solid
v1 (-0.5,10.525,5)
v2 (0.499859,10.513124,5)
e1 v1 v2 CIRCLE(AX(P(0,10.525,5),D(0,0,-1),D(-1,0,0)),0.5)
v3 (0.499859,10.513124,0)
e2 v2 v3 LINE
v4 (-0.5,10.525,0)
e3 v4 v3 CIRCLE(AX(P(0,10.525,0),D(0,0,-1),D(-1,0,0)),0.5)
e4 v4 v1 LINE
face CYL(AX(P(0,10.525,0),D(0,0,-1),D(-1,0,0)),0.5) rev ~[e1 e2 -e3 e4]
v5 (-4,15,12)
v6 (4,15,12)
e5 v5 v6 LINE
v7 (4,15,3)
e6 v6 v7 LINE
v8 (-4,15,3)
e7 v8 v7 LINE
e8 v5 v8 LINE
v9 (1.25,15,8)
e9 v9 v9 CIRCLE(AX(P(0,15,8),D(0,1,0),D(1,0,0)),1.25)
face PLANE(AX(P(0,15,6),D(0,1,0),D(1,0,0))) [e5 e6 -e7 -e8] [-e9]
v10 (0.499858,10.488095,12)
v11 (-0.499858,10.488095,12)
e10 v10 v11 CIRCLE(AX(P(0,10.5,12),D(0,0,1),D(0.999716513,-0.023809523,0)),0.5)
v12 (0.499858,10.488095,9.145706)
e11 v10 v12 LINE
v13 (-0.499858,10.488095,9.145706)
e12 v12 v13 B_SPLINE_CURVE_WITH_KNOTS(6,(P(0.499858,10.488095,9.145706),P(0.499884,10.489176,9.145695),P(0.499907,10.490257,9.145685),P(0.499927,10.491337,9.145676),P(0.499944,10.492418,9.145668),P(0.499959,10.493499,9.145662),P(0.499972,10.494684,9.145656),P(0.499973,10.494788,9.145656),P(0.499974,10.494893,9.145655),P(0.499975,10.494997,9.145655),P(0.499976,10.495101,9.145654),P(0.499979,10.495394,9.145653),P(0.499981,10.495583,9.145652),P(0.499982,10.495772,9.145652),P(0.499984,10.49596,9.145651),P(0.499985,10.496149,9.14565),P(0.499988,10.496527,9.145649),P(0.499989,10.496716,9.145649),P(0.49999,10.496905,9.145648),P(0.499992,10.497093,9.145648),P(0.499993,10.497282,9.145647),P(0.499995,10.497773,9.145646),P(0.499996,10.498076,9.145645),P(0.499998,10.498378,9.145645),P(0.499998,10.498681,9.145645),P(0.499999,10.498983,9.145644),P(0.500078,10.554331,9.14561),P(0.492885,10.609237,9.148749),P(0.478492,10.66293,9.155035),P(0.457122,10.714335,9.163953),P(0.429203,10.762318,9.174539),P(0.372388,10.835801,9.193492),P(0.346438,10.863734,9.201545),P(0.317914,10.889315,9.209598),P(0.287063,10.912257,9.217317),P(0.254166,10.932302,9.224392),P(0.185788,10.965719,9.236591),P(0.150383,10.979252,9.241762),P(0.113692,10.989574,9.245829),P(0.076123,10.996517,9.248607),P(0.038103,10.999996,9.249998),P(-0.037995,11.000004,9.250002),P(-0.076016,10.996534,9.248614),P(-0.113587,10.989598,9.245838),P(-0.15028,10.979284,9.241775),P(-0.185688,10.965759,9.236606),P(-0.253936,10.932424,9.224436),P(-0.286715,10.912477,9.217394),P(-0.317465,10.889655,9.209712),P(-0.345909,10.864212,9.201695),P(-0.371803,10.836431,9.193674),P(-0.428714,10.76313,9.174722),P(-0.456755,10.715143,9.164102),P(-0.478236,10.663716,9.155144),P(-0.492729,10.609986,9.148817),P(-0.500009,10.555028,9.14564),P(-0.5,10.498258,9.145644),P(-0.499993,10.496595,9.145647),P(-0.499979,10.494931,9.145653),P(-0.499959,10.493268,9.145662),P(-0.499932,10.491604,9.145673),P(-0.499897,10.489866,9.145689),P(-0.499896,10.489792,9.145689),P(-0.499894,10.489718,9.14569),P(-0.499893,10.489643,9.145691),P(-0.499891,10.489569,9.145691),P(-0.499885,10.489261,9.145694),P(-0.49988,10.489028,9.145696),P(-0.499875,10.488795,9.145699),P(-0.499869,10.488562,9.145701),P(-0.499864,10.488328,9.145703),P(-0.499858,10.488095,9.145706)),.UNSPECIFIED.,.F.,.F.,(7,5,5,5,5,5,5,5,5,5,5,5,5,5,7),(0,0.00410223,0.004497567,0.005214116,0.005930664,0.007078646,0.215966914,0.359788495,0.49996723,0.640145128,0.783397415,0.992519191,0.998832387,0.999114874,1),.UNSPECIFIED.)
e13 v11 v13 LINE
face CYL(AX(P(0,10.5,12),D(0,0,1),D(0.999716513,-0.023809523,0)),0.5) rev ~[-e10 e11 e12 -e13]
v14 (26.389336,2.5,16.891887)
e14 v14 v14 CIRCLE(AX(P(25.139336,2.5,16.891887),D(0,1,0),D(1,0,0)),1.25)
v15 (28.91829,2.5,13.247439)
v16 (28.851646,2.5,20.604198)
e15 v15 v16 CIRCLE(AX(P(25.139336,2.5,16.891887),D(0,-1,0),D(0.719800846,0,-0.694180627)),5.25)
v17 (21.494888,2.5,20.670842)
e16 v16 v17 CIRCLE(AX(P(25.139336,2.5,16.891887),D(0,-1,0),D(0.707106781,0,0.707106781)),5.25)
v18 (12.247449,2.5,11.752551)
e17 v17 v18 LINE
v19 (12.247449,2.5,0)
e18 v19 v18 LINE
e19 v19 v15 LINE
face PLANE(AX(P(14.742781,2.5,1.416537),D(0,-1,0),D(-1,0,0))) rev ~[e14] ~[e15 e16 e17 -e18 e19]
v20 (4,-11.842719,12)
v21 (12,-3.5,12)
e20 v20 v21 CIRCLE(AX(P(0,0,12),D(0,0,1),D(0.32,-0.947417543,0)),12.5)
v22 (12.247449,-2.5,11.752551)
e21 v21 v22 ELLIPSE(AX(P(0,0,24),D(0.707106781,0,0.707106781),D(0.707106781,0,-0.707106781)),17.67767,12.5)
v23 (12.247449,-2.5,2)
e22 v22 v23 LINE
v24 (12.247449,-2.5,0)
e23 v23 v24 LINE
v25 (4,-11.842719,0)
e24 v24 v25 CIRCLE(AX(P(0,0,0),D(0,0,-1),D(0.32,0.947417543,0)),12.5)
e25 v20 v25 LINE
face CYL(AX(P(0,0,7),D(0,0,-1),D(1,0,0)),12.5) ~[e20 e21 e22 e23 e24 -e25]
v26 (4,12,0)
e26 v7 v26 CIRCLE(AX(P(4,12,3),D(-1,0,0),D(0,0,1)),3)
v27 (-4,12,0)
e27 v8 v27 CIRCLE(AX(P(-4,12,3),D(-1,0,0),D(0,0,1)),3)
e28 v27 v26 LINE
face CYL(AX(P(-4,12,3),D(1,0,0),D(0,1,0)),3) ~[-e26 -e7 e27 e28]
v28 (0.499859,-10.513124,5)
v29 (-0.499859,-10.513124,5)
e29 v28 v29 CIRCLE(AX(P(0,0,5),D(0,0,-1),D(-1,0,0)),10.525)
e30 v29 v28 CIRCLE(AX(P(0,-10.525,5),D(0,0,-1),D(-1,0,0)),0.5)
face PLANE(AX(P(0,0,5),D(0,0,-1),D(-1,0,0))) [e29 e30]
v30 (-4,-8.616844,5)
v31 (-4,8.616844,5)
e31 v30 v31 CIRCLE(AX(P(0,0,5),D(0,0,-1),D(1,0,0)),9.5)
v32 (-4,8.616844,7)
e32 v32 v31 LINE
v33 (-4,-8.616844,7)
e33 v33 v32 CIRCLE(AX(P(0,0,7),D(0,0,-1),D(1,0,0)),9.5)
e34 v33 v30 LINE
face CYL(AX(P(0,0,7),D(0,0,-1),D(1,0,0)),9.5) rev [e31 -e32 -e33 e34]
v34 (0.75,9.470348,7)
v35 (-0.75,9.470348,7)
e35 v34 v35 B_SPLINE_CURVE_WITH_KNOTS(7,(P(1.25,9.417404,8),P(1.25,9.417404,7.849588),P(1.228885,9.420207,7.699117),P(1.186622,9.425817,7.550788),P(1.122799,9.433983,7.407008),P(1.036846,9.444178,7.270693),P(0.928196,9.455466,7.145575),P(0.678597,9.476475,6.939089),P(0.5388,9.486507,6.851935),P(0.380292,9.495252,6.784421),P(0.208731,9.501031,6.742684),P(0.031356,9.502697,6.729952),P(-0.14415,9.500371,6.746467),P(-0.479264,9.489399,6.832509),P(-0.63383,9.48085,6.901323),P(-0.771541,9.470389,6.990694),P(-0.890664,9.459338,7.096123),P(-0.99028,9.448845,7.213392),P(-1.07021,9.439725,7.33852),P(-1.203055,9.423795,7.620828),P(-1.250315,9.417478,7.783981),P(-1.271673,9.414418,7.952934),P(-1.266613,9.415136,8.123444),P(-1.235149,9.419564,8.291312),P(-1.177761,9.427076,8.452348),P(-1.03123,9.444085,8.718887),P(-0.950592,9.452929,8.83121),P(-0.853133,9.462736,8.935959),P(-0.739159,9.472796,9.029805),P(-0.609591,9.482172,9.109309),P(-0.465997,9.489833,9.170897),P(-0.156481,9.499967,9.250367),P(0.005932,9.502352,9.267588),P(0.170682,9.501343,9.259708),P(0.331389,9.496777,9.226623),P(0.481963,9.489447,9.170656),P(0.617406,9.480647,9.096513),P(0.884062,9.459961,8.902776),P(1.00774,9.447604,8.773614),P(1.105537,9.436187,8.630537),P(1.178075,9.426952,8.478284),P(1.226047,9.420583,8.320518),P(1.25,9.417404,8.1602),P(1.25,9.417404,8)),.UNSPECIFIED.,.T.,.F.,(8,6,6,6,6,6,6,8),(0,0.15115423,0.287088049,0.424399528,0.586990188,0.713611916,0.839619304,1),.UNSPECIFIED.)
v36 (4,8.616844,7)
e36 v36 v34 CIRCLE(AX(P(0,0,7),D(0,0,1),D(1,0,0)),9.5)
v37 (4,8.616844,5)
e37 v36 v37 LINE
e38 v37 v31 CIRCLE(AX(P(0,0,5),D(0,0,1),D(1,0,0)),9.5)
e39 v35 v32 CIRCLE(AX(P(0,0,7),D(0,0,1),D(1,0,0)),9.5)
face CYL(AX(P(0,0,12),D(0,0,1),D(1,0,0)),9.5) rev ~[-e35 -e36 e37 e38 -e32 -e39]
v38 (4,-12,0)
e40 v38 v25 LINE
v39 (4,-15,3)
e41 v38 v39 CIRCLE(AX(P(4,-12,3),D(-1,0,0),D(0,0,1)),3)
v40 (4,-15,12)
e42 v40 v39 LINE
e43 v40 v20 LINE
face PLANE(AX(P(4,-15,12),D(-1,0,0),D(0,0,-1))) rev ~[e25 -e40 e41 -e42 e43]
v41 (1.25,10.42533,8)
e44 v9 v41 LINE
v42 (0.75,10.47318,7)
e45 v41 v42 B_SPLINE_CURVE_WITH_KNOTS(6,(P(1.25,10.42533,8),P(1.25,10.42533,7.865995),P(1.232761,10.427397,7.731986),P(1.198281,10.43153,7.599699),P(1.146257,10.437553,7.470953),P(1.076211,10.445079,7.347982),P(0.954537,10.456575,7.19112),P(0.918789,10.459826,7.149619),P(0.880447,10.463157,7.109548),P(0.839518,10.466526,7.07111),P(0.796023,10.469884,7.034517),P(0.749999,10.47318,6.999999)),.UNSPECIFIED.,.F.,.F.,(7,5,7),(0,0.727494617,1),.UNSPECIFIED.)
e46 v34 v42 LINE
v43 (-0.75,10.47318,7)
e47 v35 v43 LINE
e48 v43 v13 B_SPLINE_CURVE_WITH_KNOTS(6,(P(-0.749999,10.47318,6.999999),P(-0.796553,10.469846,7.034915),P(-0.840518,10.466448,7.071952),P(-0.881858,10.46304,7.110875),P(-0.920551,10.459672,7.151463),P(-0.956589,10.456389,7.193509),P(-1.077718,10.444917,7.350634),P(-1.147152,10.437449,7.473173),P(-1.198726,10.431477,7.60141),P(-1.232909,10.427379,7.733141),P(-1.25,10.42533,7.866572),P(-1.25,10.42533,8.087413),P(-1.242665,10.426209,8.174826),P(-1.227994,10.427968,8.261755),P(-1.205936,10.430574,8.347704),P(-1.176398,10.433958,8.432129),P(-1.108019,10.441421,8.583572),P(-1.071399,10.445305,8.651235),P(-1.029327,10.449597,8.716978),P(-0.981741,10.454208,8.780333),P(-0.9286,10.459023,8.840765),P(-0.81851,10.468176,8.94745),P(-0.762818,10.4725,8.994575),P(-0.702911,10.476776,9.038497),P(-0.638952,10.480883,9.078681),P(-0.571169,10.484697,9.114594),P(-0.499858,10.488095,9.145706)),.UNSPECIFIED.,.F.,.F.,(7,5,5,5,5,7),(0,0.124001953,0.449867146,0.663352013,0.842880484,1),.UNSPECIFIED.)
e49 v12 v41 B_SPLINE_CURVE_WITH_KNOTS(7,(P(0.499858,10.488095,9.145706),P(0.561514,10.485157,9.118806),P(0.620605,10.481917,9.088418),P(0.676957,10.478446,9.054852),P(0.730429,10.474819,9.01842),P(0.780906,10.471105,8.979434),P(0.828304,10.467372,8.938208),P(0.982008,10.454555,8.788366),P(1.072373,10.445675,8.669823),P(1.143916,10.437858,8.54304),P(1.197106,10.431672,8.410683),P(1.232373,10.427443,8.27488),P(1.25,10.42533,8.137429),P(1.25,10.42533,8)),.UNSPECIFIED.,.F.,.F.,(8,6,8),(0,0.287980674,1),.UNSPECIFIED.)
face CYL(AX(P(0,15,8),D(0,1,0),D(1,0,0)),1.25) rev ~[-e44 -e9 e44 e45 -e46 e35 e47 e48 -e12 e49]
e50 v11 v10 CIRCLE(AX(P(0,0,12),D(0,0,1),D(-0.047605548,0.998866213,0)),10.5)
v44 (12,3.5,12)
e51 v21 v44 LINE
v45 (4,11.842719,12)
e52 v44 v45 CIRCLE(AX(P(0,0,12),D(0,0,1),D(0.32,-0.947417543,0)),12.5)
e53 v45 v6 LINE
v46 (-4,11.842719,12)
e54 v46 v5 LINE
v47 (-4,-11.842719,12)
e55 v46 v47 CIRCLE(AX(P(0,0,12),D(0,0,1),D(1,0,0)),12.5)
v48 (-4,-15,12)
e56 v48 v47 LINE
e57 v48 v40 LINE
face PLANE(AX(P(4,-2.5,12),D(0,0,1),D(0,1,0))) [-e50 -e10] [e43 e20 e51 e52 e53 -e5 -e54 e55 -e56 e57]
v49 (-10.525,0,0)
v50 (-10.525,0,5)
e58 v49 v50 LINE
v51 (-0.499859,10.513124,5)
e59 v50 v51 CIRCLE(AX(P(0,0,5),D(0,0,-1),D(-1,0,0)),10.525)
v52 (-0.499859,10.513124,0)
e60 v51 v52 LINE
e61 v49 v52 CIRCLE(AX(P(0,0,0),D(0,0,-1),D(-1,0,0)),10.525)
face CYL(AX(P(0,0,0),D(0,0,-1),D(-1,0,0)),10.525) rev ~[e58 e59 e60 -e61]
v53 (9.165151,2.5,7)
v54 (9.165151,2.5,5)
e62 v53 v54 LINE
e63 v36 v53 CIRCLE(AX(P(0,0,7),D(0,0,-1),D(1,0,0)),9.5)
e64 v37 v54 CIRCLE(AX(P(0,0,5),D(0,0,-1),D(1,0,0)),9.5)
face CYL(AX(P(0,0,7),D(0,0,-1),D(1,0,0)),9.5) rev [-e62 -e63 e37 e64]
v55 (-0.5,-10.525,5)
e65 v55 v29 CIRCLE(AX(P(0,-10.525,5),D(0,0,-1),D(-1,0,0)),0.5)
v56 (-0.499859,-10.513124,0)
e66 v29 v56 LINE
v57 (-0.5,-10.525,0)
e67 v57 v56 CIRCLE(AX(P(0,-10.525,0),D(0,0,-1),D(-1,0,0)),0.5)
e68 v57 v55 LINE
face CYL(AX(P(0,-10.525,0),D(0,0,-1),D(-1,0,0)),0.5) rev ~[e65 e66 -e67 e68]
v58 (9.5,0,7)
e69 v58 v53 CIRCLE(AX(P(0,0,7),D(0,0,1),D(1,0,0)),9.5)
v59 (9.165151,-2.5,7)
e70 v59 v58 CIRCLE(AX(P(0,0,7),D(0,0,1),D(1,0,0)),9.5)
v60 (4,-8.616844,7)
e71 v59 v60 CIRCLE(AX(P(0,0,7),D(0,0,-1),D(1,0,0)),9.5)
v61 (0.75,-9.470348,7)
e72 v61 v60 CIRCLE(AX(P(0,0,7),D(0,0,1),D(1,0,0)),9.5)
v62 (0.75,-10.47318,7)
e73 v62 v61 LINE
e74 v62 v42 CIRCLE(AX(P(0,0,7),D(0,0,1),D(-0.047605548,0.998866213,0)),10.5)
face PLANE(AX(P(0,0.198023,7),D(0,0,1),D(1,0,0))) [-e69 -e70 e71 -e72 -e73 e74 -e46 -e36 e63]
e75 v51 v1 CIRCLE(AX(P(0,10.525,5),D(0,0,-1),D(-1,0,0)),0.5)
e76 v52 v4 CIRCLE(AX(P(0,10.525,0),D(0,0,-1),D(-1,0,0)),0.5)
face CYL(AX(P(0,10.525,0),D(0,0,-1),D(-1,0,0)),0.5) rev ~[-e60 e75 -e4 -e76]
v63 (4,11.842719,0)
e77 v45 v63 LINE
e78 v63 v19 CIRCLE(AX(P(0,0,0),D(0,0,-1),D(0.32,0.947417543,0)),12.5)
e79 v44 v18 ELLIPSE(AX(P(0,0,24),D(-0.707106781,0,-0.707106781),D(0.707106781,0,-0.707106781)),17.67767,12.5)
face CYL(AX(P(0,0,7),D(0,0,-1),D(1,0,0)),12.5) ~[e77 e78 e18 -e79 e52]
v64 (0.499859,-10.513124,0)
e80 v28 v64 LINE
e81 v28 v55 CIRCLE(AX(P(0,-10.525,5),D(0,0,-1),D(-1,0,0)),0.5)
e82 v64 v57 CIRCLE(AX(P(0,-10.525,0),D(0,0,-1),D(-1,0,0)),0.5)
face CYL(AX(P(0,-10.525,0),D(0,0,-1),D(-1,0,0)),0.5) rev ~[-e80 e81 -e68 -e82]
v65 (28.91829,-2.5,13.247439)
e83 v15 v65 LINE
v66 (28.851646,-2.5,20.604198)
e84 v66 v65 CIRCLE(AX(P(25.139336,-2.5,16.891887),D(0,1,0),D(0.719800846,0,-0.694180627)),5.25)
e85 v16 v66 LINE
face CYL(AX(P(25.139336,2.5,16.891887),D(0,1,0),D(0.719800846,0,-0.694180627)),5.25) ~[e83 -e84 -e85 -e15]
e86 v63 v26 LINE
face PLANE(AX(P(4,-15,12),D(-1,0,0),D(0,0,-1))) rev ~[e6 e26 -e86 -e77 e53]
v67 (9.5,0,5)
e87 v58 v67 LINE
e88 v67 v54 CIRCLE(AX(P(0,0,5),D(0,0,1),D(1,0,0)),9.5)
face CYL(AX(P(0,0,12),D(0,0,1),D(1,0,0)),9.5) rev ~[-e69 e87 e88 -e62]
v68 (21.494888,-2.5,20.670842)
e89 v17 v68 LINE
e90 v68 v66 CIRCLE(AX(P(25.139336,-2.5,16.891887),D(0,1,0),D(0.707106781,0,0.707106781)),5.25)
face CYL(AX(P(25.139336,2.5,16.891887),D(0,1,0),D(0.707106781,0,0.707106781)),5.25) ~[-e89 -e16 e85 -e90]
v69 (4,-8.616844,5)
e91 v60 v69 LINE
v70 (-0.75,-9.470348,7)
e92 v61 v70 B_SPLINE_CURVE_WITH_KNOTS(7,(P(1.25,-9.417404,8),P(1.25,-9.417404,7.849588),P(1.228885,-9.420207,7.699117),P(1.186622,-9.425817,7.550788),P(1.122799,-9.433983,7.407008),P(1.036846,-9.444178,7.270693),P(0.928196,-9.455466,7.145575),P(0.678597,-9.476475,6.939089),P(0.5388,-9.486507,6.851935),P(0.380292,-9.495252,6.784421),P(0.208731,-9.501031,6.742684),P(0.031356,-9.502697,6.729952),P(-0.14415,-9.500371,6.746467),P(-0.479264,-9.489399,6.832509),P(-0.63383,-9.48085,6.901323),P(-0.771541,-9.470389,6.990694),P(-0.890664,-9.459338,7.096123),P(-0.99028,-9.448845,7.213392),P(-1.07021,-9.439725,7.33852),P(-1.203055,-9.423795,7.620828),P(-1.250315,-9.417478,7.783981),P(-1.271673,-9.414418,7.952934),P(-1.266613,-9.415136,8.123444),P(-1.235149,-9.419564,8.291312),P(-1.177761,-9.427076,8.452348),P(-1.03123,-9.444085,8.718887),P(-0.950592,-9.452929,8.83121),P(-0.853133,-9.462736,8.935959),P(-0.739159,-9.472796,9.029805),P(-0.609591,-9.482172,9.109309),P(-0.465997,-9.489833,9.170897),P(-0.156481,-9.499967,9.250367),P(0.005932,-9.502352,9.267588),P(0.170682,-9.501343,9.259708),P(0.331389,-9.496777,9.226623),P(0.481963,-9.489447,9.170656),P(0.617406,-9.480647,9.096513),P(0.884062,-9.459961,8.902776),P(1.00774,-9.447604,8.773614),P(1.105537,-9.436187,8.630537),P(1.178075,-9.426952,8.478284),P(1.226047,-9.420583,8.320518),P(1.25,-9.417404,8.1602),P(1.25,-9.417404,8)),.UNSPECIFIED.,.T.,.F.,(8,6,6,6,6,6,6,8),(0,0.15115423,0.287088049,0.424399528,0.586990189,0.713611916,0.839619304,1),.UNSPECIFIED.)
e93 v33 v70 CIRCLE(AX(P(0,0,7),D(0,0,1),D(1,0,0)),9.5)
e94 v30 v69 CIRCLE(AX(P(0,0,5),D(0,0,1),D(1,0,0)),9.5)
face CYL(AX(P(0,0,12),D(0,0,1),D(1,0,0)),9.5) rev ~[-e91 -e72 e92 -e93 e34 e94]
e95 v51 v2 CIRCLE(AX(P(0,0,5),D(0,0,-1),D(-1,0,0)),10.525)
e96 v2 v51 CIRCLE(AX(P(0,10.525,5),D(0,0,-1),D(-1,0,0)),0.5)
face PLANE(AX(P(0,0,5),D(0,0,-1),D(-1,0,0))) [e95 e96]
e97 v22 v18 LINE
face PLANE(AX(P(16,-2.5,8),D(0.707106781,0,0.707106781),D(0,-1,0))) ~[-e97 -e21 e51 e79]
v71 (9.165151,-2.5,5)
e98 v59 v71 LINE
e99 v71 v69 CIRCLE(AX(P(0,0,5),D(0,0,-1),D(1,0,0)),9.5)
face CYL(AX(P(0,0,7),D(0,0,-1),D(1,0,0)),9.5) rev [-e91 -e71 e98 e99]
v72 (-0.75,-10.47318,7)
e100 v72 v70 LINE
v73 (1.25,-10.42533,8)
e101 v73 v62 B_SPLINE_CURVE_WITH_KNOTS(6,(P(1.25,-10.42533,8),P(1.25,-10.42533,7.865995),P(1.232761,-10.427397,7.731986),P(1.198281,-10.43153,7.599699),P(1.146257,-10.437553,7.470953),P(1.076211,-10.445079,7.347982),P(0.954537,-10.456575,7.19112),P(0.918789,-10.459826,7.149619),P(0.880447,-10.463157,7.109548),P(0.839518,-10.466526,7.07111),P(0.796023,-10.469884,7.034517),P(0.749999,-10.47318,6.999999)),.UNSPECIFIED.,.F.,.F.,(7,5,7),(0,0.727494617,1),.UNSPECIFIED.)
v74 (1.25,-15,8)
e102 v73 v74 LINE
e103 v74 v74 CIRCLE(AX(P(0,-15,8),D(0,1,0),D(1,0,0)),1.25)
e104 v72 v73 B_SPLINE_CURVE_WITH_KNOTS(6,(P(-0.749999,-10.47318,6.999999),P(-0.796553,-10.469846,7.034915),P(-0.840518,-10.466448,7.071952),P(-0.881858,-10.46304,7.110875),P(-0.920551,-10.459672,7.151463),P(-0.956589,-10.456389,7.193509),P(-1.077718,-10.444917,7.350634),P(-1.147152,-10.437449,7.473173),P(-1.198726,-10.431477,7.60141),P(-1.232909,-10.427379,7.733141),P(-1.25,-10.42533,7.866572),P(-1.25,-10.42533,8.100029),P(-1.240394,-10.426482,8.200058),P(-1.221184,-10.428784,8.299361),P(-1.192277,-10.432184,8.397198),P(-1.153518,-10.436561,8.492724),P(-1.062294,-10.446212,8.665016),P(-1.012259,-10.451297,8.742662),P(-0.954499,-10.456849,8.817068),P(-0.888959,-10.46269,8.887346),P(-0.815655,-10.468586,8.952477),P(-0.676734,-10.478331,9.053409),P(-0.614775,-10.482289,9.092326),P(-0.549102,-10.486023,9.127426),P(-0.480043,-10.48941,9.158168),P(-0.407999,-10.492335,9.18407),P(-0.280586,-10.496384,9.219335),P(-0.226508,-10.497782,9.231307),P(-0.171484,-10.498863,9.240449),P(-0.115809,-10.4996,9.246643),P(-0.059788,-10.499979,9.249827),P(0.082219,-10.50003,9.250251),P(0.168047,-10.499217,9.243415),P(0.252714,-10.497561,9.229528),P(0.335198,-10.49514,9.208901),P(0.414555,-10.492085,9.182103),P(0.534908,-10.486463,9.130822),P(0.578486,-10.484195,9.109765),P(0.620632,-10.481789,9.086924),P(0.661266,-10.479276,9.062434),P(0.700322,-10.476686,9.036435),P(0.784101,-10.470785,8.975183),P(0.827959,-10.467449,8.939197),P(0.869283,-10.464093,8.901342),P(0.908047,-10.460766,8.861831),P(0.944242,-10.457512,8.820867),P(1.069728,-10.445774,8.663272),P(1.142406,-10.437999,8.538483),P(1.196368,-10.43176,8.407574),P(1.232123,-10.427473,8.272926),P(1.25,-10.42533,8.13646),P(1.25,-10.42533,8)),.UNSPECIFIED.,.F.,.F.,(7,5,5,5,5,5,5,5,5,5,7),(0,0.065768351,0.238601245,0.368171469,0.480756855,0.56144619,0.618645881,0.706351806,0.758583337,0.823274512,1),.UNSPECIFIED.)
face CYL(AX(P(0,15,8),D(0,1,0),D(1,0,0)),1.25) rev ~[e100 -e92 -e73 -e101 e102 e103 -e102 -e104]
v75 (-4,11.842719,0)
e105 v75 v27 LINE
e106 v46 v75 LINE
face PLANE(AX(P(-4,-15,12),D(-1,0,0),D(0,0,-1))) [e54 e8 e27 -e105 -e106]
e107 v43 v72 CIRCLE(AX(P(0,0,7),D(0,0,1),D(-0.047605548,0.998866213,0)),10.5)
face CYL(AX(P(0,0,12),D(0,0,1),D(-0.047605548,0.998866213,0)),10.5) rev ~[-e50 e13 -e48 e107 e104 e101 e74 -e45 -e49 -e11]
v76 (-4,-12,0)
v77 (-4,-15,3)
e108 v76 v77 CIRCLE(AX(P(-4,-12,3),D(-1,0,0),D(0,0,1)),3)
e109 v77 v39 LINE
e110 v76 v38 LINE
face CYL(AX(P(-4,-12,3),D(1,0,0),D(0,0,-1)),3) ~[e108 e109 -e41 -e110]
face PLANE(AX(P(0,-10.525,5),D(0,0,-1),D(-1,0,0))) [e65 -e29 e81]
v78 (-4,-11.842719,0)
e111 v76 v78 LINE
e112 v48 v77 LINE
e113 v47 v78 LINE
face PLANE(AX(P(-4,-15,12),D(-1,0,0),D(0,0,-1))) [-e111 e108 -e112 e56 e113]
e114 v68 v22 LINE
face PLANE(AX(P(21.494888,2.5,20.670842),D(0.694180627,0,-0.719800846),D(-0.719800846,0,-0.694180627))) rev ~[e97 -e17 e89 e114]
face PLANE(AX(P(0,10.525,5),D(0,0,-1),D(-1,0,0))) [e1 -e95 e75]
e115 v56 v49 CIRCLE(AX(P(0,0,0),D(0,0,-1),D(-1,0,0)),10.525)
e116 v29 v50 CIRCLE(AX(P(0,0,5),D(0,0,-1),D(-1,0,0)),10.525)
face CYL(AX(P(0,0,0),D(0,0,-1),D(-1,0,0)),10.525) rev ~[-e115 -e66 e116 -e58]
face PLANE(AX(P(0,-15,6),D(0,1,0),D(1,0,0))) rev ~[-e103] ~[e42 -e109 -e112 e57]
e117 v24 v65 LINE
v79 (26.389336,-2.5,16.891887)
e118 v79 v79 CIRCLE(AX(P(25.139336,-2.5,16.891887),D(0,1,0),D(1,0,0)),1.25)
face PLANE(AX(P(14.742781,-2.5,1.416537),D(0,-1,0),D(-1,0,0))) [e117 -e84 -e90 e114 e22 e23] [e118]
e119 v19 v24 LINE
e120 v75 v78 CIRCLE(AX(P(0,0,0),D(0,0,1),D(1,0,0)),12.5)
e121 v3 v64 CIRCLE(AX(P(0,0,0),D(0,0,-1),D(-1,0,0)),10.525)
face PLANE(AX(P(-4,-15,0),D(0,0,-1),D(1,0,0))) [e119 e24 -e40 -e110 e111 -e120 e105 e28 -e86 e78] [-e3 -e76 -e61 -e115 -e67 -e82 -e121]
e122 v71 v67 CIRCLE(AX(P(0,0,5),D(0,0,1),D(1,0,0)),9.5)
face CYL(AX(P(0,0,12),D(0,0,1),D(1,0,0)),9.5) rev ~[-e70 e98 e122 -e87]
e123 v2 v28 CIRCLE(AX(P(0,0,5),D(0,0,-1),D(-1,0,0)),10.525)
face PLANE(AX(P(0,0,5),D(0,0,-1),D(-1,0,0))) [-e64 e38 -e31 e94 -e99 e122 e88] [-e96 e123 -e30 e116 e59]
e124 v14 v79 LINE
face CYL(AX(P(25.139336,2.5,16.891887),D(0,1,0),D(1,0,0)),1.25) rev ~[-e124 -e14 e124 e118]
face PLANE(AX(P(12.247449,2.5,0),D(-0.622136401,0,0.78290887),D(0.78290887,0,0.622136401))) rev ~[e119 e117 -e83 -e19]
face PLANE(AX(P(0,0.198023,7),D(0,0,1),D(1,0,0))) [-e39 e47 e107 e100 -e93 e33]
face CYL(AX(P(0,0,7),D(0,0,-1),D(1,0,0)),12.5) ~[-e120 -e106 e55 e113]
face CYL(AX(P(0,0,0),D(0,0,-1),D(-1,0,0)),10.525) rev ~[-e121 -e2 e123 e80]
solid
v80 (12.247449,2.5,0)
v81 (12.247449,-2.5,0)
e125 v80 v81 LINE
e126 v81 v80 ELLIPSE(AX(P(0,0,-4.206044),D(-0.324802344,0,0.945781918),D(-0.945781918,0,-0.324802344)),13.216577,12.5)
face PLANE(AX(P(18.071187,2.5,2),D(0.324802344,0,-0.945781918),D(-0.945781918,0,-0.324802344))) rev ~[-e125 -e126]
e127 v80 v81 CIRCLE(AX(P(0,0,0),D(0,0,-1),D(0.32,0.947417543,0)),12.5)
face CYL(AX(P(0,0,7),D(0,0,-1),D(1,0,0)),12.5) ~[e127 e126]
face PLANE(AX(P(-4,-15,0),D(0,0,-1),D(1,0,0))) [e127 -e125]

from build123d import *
from build123d.topology import SkipClean

# Parameters (mm, degrees)
SKETCH1_R                = 12.5
SKETCH1_R_2              = 9.5
BOSS_EXTRUDE1_DEPTH      = 7
SKETCH2_R                = 12.5
SKETCH2_R_2              = 9.5
BOSS_EXTRUDE2_DEPTH      = 5
BOSS_EXTRUDE3_DEPTH      = 15
BOSS_EXTRUDE3_DEPTH_BACK = 15
SKETCH3_W                = 8
SKETCH3_H                = 12
FILLET1_R                = 3
SKETCH6_R                = 1.25
CUT_EXTRUDE3_DEPTH       = 35.644624403
SKETCH7_W                = 10
SKETCH7_H                = 5
BOSS_EXTRUDE4_DEPTH      = 16
CHAMFER1_SIZE            = 8
SKETCH8_W                = 10.963763172
SKETCH8_H                = 5
BOSS_EXTRUDE5_DEPTH      = 18
SKETCH9_R                = 1.25
CUT_EXTRUDE4_DEPTH       = 45.459649771
BOSS_EXTRUDE7_DEPTH      = 5
SKETCH12_R               = 10.525
CUT_EXTRUDE7_DEPTH       = 5
SKETCH4_R                = 9.5
CUT_EXTRUDE8_DEPTH       = 36.951519181
SKETCH14_R               = 0.5
CUT_EXTRUDE9_DEPTH       = 5
CUT_EXTRUDE10_DEPTH      = 5
CUT_EXTRUDE12_DEPTH      = 5


with BuildPart() as part:
    # Sketch1 → Boss-Extrude1 (new body)
    with BuildSketch(Plane.XY):
        Circle(SKETCH1_R)
        Circle(SKETCH1_R_2, mode=Mode.SUBTRACT)
    extrude(amount=BOSS_EXTRUDE1_DEPTH)

    # Sketch2 → Boss-Extrude2 (add)
    with BuildSketch(Plane.XY.offset(7)):
        Circle(SKETCH2_R)
        Circle(SKETCH2_R_2, mode=Mode.SUBTRACT)
    extrude(amount=BOSS_EXTRUDE2_DEPTH)

    # Sketch3 → Boss-Extrude3 (add, two sides: drawn at the far end of the back side and taken through both)
    with BuildSketch(Plane(origin=(0, 0, 0), x_dir=(1, 0, 0), z_dir=(0, 1, 0)).offset(-BOSS_EXTRUDE3_DEPTH_BACK)):
        with Locations((0, -6)):
            Rectangle(SKETCH3_W, SKETCH3_H)
    extrude(amount=BOSS_EXTRUDE3_DEPTH + BOSS_EXTRUDE3_DEPTH_BACK)

    # Fillet1
    fillet1_edges = [part.edges().sort_by_distance(p)[0] for p in [
        (0, -15, 0),
        (0, 15, 0),
    ]]
    fillet(fillet1_edges, radius=FILLET1_R)

    # Sketch6 → Cut-Extrude3 (cut, through all)
    with BuildSketch(Plane(origin=(0, 15, 0), x_dir=(1, 0, 0), z_dir=(0, 1, 0))):
        with Locations((0, -8)):
            Circle(SKETCH6_R)
    extrude(amount=-CUT_EXTRUDE3_DEPTH, mode=Mode.SUBTRACT)

    # Sketch7 → Boss-Extrude4 (add)
    with BuildSketch(Plane(origin=(4, 0, 0), x_dir=(0, 0, -1), z_dir=(1, 0, 0))):
        with Locations((-7, 0)):
            Rectangle(SKETCH7_W, SKETCH7_H)
    extrude(amount=BOSS_EXTRUDE4_DEPTH)

    # Chamfer1
    chamfer1_edges = [part.edges().sort_by_distance(p)[0] for p in [
        (20, 0, 12),
    ]]
    chamfer(chamfer1_edges, length=CHAMFER1_SIZE)

    # Sketch8 → Boss-Extrude5 (add)
    with BuildSketch(Plane(origin=(12, 0, 12), x_dir=(0.7071067811865487, 0, -0.7071067811865465), z_dir=(0.7071067811865465, 0, 0.7071067811865487))):
        with Locations((5.831826913, 0)):
            Rectangle(SKETCH8_W, SKETCH8_H)
    extrude(amount=BOSS_EXTRUDE5_DEPTH)

    # Sketch9 → Cut-Extrude4 (cut, through all)
    with BuildSketch(Plane(origin=(0, 2.5, 0), x_dir=(1, 0, 0), z_dir=(0, 1, 0))):
        Polygon((18.071186966, -2), (20, -4), (20, -2), align=None)
        with BuildLine():
            Line((20, -4), (28.918290257, -13.247438813))
            ThreePointArc((28.918290257, -13.247438813), (30.389120415, -16.93944416), (28.851646418, -20.604197704))
            Line((28.851646418, -20.604197704), (32.727922061, -16.727922061))
            Line((32.727922061, -16.727922061), (20, -4))
        make_face()
        with BuildLine():
            ThreePointArc((28.851646418, -20.604197704), (25.186892874, -22.141671701), (21.494887527, -20.670841544))
            Line((21.494887527, -20.670841544), (12.247448714, -11.752551286))
            Line((12.247448714, -11.752551286), (24.975370775, -24.480473347))
            Line((24.975370775, -24.480473347), (28.851646418, -20.604197704))
        make_face()
        with Locations((25.139335817, -16.891887103)):
            Circle(SKETCH9_R)
    extrude(amount=-CUT_EXTRUDE4_DEPTH, mode=Mode.SUBTRACT)

    # Sketch10 → Boss-Extrude7 (add)
    with BuildSketch(Plane(origin=(0, 2.5, 0), x_dir=(1, 0, 0), z_dir=(0, 1, 0))):
        Polygon((12.247448714, -2), (12.247448714, 0), (18.071186966, -2), align=None)
    extrude(amount=-BOSS_EXTRUDE7_DEPTH)

    # Sketch12 → Cut-Extrude7 (cut)
    with BuildSketch(Plane(origin=(0, 0, 0), x_dir=(-1, 0, 0), z_dir=(0, 0, -1))):
        Circle(SKETCH12_R)
    extrude(amount=-CUT_EXTRUDE7_DEPTH, mode=Mode.SUBTRACT)

    # Sketch4 → Cut-Extrude8 (cut, through all)
    with SkipClean():  # the faces are left unmerged after this step: merging them gives an invalid solid
        with BuildSketch(Plane.XY.offset(12)):
            Circle(SKETCH4_R)
        extrude(amount=-CUT_EXTRUDE8_DEPTH, mode=Mode.SUBTRACT)

    # Sketch14 → Cut-Extrude9 (cut)
    with SkipClean():  # the faces are left unmerged after this step: merging them gives an invalid solid
        with BuildSketch(Plane(origin=(0, 0, 0), x_dir=(-1, 0, 0), z_dir=(0, 0, -1))):
            with Locations((0, 10.525)):
                Circle(SKETCH14_R)
            with Locations((0, -10.525)):
                Circle(SKETCH14_R)
        extrude(amount=-CUT_EXTRUDE9_DEPTH, mode=Mode.SUBTRACT)

    # Sketch15 → Cut-Extrude10 (cut)
    with SkipClean():  # the faces are left unmerged after this step: merging them gives an invalid solid
        with BuildSketch(Plane.XY.offset(12)):
            with BuildLine():
                ThreePointArc((-0.499858257, 10.488095238), (0, -10.5), (0.499858257, 10.488095238))
                ThreePointArc((0.499858257, 10.488095238), (0, 11), (-0.499858257, 10.488095238))
            make_face()
        extrude(amount=-CUT_EXTRUDE10_DEPTH, mode=Mode.SUBTRACT)

    # Sketch16 → Cut-Extrude12 (cut)
    with SkipClean():  # the faces are left unmerged after this step: merging them gives an invalid solid
        with BuildSketch(Plane(origin=(0, 2.5, 0), x_dir=(1, 0, 0), z_dir=(0, 1, 0))):
            Polygon((12.247448714, 0), (28.918290257, -13.247438813), (18.071186966, -2), align=None)
        extrude(amount=-CUT_EXTRUDE12_DEPTH, mode=Mode.SUBTRACT)


solid = part.part
